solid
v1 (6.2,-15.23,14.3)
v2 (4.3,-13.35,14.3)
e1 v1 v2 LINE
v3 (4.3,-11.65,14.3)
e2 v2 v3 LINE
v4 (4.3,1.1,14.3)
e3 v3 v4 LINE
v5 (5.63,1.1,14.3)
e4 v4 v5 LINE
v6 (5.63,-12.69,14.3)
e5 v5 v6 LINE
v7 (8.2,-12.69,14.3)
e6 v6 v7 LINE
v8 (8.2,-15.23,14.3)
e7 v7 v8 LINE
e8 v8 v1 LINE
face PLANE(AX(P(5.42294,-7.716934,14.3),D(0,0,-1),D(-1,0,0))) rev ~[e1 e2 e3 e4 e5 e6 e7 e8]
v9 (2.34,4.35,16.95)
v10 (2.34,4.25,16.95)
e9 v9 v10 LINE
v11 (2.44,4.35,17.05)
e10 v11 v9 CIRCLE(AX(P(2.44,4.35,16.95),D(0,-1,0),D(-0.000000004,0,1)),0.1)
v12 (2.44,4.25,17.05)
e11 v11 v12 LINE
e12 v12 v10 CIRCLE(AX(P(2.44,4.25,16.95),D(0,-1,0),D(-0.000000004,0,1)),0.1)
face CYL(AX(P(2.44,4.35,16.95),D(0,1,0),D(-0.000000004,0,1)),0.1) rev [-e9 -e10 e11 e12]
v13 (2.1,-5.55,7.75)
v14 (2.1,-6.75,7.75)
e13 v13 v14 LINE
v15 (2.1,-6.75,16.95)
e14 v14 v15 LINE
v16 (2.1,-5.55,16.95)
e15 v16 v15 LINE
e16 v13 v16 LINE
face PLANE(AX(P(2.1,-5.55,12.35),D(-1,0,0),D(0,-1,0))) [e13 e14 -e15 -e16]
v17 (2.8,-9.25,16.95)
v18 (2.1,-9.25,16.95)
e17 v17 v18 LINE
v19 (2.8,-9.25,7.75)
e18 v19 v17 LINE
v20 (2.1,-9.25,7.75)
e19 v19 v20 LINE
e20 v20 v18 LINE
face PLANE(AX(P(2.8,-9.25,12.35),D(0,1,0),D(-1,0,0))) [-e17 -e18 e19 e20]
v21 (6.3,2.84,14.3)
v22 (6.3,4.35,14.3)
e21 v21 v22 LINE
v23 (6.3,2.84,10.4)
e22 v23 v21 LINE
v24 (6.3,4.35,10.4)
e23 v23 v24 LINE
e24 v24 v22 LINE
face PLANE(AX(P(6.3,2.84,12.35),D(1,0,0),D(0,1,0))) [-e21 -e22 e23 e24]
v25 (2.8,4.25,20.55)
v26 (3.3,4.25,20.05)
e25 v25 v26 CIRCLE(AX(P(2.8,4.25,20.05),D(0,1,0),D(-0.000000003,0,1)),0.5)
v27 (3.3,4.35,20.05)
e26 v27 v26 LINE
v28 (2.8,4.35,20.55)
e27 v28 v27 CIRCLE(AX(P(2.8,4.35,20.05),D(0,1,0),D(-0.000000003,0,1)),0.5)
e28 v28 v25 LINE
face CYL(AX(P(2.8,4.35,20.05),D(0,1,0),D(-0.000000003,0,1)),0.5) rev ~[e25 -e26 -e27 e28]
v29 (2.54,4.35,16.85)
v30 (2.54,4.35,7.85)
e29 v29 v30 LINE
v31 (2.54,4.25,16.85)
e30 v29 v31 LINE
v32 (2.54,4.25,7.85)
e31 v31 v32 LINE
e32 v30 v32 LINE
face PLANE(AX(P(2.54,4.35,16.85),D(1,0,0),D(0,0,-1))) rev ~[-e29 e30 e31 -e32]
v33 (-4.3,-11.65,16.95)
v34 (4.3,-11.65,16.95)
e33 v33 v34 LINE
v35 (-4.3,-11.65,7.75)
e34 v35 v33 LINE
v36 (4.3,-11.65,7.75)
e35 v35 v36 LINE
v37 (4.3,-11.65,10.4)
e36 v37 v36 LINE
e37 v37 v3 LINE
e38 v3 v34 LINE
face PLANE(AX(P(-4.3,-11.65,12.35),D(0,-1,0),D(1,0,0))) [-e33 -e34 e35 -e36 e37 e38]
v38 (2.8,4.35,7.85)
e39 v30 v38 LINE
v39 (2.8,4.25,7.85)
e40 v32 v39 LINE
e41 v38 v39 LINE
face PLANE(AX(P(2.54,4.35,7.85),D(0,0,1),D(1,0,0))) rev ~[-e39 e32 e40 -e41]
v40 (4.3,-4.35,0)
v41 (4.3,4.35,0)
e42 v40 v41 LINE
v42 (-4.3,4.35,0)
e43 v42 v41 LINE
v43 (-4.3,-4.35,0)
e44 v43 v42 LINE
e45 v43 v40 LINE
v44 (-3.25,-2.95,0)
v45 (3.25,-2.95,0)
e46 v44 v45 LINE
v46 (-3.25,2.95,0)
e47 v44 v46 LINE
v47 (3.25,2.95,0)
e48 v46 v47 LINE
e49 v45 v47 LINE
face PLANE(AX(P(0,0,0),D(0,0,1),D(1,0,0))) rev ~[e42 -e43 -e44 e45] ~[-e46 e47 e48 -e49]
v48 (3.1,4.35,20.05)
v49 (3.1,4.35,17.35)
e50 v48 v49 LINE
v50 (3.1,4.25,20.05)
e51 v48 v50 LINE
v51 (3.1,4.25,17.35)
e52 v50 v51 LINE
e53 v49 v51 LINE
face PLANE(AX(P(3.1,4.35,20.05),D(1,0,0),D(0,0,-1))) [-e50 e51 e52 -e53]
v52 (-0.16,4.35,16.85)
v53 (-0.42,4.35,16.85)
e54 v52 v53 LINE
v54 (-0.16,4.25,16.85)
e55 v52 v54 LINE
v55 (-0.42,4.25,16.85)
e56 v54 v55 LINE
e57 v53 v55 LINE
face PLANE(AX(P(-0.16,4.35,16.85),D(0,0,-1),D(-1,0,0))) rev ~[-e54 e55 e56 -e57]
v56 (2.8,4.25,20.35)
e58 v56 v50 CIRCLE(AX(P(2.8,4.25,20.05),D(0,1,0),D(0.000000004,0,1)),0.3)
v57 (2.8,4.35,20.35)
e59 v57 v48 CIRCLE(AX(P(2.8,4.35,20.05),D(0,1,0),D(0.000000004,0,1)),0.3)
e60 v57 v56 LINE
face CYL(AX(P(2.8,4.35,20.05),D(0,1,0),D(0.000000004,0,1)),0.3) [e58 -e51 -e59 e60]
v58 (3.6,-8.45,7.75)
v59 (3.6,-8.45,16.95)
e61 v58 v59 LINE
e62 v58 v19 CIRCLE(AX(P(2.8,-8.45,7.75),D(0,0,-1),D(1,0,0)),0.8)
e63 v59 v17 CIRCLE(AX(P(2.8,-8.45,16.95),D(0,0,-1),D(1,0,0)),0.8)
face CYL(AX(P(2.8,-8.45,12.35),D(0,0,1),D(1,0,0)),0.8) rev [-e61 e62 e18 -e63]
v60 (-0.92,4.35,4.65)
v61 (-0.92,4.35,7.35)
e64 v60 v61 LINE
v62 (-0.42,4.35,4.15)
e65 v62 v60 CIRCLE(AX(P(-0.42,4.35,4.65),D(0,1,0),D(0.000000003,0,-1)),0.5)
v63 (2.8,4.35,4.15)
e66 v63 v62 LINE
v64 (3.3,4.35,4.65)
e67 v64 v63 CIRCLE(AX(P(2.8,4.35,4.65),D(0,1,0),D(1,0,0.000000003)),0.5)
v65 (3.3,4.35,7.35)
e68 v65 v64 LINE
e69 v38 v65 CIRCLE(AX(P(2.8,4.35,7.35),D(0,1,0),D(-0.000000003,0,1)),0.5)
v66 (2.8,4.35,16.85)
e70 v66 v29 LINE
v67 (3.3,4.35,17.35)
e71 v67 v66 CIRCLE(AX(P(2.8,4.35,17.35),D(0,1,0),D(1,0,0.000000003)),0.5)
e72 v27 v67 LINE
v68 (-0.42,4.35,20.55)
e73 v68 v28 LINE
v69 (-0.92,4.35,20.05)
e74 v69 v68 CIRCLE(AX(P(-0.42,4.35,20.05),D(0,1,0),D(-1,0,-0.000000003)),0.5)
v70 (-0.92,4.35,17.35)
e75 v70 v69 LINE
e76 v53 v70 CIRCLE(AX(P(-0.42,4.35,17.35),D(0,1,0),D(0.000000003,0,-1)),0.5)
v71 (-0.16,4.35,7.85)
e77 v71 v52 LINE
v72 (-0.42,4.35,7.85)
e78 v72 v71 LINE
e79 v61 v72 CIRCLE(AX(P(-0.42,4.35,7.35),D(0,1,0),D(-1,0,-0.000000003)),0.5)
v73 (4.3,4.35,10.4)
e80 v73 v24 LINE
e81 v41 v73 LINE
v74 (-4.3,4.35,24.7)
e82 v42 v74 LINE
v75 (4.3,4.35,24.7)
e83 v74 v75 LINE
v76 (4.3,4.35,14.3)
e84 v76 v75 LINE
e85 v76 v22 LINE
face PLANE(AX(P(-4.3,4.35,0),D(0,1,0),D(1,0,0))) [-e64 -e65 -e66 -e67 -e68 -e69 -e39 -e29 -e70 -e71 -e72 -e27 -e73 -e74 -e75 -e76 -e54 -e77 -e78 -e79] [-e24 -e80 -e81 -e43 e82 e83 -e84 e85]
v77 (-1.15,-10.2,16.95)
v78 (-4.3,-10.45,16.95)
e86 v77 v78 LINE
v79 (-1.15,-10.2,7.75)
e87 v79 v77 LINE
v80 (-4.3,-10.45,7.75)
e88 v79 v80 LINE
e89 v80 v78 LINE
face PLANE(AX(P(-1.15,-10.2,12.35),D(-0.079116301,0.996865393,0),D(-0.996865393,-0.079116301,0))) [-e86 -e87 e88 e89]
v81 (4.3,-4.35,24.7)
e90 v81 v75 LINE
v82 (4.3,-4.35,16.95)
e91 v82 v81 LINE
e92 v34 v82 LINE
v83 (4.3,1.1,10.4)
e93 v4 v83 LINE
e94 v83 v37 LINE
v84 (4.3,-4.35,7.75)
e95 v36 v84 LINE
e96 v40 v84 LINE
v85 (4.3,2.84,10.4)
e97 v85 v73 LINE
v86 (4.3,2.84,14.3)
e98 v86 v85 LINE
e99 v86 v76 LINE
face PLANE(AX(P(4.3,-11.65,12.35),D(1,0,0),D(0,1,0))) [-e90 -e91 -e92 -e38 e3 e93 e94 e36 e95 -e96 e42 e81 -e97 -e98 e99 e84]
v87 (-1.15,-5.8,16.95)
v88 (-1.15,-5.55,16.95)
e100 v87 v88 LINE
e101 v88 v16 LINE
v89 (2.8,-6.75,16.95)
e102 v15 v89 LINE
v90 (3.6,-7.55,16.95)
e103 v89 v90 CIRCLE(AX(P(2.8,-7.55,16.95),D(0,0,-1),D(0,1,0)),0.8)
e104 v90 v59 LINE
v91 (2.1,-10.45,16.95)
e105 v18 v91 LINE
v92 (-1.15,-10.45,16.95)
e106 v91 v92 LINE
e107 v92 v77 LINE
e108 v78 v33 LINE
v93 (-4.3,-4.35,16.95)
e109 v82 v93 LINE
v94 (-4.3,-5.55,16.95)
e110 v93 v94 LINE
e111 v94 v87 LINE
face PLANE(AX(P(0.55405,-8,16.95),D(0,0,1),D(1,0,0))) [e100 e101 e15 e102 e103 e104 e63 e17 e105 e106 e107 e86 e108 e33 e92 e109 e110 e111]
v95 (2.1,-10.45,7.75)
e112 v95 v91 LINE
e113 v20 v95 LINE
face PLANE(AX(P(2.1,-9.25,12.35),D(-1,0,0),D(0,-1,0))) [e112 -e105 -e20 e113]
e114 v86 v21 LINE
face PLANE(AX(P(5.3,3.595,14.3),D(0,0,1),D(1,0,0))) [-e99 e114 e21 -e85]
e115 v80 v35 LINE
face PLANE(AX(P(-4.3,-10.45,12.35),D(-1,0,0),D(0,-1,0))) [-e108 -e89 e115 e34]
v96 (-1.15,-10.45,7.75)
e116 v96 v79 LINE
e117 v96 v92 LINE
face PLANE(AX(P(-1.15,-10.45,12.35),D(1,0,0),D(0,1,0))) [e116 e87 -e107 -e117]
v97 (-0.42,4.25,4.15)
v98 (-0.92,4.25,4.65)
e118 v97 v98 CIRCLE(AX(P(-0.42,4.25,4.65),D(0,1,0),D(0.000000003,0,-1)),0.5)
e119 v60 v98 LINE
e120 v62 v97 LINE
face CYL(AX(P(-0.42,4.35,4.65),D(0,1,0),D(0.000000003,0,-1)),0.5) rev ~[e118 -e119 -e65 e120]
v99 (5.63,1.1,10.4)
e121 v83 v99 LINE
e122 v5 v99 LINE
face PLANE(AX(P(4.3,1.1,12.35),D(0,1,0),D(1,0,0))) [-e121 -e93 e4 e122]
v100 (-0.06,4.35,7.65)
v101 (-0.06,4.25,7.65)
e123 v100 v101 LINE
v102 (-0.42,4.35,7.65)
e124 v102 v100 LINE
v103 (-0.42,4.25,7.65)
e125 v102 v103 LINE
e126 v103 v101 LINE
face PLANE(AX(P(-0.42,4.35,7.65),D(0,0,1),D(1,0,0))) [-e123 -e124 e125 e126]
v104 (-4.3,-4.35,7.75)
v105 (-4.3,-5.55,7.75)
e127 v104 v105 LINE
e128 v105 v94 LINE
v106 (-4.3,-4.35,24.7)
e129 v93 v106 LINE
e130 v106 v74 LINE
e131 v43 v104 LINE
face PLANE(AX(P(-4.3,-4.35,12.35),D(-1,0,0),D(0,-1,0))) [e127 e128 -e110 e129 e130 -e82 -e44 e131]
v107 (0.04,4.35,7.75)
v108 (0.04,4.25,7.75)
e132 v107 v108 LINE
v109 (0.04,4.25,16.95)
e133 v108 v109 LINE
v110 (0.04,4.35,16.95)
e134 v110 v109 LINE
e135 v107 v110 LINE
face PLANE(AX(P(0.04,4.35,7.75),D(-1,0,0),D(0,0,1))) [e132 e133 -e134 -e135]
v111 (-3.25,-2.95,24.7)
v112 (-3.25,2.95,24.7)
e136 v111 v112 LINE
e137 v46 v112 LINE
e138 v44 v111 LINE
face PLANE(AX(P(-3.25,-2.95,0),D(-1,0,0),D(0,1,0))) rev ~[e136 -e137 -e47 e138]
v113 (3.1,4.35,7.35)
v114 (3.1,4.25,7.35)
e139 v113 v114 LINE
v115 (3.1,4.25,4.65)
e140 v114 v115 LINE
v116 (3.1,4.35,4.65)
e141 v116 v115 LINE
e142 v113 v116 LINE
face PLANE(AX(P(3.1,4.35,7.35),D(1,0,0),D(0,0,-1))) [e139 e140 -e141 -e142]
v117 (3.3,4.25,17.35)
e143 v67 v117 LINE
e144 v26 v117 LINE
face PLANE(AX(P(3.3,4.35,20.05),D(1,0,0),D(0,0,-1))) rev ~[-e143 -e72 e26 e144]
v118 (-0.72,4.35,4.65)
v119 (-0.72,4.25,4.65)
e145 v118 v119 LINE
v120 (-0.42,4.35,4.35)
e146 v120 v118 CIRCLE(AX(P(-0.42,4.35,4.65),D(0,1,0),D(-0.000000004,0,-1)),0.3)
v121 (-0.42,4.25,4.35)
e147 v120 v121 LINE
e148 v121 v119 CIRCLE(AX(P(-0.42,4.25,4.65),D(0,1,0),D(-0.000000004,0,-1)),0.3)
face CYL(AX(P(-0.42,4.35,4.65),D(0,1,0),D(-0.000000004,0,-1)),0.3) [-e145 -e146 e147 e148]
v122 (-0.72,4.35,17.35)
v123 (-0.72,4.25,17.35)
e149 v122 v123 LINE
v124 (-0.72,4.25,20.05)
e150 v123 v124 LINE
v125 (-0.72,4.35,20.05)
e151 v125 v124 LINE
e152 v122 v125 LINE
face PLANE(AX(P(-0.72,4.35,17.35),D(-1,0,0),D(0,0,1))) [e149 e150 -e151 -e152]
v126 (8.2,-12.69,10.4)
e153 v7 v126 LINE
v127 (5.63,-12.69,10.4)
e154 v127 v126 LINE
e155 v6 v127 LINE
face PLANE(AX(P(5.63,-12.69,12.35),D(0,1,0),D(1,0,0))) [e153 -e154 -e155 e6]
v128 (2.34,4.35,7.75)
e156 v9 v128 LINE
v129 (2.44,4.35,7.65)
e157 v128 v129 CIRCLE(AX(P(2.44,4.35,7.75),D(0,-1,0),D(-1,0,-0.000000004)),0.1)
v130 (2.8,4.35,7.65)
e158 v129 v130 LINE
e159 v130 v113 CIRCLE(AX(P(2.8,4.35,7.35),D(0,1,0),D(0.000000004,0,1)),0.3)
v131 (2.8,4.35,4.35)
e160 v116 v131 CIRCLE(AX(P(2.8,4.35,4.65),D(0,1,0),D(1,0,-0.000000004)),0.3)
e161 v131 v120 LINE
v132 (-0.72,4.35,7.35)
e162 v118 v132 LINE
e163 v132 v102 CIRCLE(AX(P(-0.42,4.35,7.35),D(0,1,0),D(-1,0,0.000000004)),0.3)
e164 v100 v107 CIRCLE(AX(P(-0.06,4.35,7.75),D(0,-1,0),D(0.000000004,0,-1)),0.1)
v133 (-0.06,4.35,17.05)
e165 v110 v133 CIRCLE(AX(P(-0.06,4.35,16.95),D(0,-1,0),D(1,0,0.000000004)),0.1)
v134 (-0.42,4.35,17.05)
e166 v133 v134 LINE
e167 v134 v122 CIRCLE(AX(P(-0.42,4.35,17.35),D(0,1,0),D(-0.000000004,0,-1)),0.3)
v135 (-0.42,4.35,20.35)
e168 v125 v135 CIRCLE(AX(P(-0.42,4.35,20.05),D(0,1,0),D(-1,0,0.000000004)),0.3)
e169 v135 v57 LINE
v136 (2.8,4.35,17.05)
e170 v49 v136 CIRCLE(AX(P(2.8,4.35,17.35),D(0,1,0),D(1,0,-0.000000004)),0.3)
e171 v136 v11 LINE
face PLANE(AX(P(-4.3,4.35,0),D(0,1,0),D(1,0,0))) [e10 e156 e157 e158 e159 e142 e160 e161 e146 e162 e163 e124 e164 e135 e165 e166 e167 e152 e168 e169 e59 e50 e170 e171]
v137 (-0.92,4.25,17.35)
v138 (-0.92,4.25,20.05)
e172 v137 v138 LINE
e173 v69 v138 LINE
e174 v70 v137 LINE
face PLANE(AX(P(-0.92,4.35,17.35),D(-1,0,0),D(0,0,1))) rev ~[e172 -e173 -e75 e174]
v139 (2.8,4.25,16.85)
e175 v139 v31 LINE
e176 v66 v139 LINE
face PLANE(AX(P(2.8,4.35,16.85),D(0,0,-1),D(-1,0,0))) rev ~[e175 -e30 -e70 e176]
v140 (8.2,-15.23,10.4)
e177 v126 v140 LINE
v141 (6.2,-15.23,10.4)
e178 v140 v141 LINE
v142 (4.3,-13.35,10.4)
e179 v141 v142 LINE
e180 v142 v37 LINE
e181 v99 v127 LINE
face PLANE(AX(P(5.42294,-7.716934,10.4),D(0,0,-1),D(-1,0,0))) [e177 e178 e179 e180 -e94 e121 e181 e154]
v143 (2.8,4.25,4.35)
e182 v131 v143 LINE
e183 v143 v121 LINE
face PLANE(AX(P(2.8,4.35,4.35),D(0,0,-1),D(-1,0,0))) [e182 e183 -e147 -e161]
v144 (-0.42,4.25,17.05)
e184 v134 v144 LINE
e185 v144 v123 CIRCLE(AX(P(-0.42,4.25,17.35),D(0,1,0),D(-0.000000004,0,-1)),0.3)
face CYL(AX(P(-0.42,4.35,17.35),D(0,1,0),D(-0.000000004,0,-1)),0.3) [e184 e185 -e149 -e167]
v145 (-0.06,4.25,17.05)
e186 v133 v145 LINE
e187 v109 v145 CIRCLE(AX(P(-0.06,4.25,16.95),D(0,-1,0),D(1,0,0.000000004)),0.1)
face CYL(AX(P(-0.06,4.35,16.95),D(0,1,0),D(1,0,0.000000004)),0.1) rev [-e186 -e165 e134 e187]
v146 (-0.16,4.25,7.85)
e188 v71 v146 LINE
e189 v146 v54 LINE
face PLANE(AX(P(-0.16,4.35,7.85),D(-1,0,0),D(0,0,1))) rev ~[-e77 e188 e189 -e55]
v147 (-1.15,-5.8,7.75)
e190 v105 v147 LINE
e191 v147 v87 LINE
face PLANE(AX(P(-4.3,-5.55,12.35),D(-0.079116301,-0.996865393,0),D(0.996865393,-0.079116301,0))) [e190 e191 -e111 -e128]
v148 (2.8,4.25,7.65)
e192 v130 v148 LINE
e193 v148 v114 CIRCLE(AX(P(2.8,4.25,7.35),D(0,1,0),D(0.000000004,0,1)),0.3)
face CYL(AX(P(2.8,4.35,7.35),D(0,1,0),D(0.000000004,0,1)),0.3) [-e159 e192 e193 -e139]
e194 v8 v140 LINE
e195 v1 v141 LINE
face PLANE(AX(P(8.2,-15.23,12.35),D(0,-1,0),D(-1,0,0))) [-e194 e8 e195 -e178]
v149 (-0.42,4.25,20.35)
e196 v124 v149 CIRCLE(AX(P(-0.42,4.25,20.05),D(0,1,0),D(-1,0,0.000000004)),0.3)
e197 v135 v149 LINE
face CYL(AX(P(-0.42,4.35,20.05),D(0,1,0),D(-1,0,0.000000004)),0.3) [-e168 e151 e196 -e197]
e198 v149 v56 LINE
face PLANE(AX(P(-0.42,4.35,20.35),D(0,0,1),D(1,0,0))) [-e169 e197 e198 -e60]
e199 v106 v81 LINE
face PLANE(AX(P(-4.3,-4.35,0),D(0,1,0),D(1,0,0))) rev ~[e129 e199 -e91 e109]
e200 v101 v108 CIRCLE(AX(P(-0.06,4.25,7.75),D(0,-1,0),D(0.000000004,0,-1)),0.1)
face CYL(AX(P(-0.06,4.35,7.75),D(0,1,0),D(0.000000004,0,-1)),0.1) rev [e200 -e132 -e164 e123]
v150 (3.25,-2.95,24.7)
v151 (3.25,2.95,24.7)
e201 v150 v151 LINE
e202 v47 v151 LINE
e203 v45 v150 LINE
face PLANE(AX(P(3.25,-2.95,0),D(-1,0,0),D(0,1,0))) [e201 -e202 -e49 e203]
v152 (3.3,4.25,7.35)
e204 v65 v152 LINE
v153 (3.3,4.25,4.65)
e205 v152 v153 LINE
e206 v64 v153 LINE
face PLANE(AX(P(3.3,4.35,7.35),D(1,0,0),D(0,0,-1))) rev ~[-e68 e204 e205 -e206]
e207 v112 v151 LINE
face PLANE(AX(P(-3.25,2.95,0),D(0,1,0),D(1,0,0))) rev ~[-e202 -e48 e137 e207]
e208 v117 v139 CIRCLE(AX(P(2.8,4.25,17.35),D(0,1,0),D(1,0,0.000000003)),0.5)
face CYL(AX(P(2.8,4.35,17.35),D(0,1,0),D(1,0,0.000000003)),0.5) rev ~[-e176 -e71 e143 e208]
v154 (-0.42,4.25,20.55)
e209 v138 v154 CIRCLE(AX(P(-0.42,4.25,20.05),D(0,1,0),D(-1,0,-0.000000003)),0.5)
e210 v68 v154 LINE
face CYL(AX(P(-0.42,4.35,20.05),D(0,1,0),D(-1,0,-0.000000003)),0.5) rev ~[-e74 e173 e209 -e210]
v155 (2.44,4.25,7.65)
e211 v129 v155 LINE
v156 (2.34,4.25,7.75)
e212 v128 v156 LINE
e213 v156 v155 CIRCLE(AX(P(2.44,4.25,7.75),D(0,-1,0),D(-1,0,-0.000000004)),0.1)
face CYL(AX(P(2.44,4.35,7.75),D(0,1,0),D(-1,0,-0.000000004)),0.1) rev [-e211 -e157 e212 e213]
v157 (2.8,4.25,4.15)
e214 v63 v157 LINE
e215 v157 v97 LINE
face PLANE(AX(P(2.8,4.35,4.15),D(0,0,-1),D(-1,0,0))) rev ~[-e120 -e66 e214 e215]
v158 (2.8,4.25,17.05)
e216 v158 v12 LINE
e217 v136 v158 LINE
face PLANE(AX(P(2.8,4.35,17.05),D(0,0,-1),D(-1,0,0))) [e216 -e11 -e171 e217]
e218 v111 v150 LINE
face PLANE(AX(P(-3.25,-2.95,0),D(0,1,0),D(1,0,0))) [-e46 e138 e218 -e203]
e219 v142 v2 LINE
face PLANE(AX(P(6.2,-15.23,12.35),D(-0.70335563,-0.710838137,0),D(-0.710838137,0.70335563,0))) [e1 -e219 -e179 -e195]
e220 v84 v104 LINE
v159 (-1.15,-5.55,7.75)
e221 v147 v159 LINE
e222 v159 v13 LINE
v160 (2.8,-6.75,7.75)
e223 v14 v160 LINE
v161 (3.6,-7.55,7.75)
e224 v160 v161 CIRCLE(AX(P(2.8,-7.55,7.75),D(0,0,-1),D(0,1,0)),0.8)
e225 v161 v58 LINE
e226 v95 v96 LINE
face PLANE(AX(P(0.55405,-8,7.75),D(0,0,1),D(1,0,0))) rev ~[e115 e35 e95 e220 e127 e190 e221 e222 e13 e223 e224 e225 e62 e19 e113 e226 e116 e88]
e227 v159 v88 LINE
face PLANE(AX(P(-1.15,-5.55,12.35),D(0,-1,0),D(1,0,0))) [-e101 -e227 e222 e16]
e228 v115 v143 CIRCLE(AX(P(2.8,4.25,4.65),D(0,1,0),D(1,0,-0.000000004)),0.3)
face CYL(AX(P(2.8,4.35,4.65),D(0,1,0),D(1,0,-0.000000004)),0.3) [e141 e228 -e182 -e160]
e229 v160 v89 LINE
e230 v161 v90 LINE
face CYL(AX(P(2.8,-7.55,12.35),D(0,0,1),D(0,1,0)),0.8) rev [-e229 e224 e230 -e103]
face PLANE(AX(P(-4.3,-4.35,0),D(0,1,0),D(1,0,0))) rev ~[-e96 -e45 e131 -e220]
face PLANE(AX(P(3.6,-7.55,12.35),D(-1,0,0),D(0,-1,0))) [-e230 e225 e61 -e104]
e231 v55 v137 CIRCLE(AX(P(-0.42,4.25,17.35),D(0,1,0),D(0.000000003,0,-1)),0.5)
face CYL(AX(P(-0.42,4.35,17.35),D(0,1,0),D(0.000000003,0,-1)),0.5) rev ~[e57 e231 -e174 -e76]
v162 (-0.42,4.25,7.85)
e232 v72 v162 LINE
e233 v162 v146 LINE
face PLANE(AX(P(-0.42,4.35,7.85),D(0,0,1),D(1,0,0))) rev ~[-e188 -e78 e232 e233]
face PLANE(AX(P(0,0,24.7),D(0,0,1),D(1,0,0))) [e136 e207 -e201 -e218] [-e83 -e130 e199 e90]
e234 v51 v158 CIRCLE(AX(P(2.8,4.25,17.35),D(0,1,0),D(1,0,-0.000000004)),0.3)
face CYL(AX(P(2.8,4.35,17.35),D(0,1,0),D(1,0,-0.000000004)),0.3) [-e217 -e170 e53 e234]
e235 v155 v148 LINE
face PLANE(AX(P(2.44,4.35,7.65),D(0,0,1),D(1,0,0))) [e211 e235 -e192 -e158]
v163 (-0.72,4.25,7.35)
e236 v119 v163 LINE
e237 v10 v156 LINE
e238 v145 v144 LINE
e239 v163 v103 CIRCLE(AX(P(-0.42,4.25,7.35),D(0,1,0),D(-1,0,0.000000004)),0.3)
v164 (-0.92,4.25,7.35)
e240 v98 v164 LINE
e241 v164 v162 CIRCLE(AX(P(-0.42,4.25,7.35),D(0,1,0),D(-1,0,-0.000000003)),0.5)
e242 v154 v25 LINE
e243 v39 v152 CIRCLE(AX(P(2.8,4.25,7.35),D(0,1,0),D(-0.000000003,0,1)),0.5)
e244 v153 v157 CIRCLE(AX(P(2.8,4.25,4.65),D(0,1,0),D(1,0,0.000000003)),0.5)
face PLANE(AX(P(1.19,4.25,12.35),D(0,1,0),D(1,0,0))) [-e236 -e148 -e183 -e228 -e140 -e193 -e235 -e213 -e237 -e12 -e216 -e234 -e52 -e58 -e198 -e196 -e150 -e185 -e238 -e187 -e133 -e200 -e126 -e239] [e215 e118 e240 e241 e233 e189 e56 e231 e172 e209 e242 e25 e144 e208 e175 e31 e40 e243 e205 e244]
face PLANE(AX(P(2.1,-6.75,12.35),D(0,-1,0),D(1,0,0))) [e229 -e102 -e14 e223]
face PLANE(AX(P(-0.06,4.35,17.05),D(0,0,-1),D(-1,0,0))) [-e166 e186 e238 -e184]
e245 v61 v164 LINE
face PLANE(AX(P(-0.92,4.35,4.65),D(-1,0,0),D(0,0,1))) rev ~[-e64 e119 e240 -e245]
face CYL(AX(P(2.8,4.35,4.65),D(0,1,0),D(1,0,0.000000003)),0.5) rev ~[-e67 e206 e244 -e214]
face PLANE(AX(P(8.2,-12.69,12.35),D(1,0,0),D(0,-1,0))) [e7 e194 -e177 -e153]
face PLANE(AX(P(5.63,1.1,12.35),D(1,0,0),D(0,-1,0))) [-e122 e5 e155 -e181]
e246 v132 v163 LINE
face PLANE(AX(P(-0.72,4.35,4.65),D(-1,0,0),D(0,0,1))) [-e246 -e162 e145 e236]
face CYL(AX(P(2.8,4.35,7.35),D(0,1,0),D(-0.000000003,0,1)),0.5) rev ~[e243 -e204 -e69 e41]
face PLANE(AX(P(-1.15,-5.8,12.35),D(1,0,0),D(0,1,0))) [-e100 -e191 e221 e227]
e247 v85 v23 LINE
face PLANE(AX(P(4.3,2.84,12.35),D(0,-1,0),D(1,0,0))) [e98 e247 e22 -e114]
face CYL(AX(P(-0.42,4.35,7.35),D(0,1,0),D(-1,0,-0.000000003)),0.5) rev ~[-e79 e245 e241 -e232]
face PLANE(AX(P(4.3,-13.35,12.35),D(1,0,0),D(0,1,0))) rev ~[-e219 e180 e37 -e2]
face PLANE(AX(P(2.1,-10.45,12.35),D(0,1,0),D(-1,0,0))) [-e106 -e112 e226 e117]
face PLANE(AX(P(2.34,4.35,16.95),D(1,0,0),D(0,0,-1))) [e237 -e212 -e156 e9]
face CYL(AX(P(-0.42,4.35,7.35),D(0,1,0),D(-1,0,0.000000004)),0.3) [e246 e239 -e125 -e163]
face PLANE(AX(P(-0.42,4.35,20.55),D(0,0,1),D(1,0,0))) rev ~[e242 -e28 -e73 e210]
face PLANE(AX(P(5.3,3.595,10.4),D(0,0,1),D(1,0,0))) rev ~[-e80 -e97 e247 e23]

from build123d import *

# Parameters (mm, degrees)
SKETCH1_W                = 8.6
SKETCH1_H                = 8.7
SKETCH1_W_2              = 6.5
SKETCH1_H_2              = 5.9
BOSS_EXTRUDE1_DEPTH      = 24.7
SKETCH2_W                = 2
SKETCH2_H                = 1.51
BOSS_EXTRUDE2_DEPTH      = 1.95
BOSS_EXTRUDE2_DEPTH_BACK = 1.95
BOSS_EXTRUDE3_DEPTH      = 4.6
BOSS_EXTRUDE3_DEPTH_BACK = 4.6
CUT_EXTRUDE1_DEPTH       = 0.1


with BuildPart() as part:
    # Sketch1 → Boss-Extrude1 (new body)
    with BuildSketch(Plane.XY):
        Rectangle(SKETCH1_W, SKETCH1_H)
        Rectangle(SKETCH1_W_2, SKETCH1_H_2, mode=Mode.SUBTRACT)
    extrude(amount=BOSS_EXTRUDE1_DEPTH)

    # Sketch2 → Boss-Extrude2 (add, two sides)
    with BuildSketch(Plane.XY.offset(12.35)) as boss_extrude2_sk:
        with Locations((5.3, 3.595)):
            Rectangle(SKETCH2_W, SKETCH2_H)
        Polygon((4.3, 1.1), (5.63, 1.1), (5.63, -12.69), (8.2, -12.69), (8.2, -15.23), (6.2, -15.23), (4.3, -13.35), align=None)
    extrude(amount=BOSS_EXTRUDE2_DEPTH)
    extrude(boss_extrude2_sk.sketch, amount=-BOSS_EXTRUDE2_DEPTH_BACK)

    # Sketch3 → Boss-Extrude3 (add, two sides)
    with BuildSketch(Plane.XY.offset(12.35)) as boss_extrude3_sk:
        with BuildLine():
            Line((4.3, -4.35), (-4.3, -4.35))
            Line((-4.3, -4.35), (-4.3, -5.55))
            Line((-4.3, -5.55), (-1.15, -5.8))
            Line((-1.15, -5.8), (-1.15, -5.55))
            Line((-1.15, -5.55), (2.1, -5.55))
            Line((2.1, -5.55), (2.1, -6.75))
            Line((2.1, -6.75), (2.8, -6.75))
            ThreePointArc((2.8, -6.75), (3.365685425, -6.984314575), (3.6, -7.55))
            Line((3.6, -7.55), (3.6, -8.45))
            ThreePointArc((3.6, -8.45), (3.365685425, -9.015685425), (2.8, -9.25))
            Line((2.8, -9.25), (2.1, -9.25))
            Line((2.1, -9.25), (2.1, -10.45))
            Line((2.1, -10.45), (-1.15, -10.45))
            Line((-1.15, -10.45), (-1.15, -10.2))
            Line((-1.15, -10.2), (-4.3, -10.45))
            Line((-4.3, -10.45), (-4.3, -11.65))
            Line((-4.3, -11.65), (4.3, -11.65))
            Line((4.3, -11.65), (4.3, -4.35))
        make_face()
    extrude(amount=BOSS_EXTRUDE3_DEPTH)
    extrude(boss_extrude3_sk.sketch, amount=-BOSS_EXTRUDE3_DEPTH_BACK)

    # Sketch4 → Cut-Extrude1 (cut)
    with BuildSketch(Plane(origin=(0, 4.35, 0), x_dir=(1, 0, 0), z_dir=(0, 1, 0))):
        with BuildLine():
            Line((-0.16, -12.35), (-0.16, -16.85))
            Line((-0.16, -16.85), (-0.42, -16.85))
            ThreePointArc((-0.42, -16.85), (-0.773553391, -16.996446609), (-0.92, -17.35))
            Line((-0.92, -17.35), (-0.92, -20.05))
            ThreePointArc((-0.92, -20.05), (-0.773553391, -20.403553391), (-0.42, -20.55))
            Line((-0.42, -20.55), (2.8, -20.55))
            ThreePointArc((2.8, -20.55), (3.153553391, -20.403553391), (3.3, -20.05))
            Line((3.3, -20.05), (3.3, -17.35))
            ThreePointArc((3.3, -17.35), (3.153553391, -16.996446609), (2.8, -16.85))
            Line((2.8, -16.85), (2.54, -16.85))
            Line((2.54, -16.85), (2.54, -12.35))
            Line((2.54, -12.35), (2.54, -7.85))
            Line((2.54, -7.85), (2.8, -7.85))
            ThreePointArc((2.8, -7.85), (3.153553391, -7.703553391), (3.3, -7.35))
            Line((3.3, -7.35), (3.3, -4.65))
            ThreePointArc((3.3, -4.65), (3.153553391, -4.296446609), (2.8, -4.15))
            Line((2.8, -4.15), (-0.42, -4.15))
            ThreePointArc((-0.42, -4.15), (-0.773553391, -4.296446609), (-0.92, -4.65))
            Line((-0.92, -4.65), (-0.92, -7.35))
            ThreePointArc((-0.92, -7.35), (-0.773553391, -7.703553391), (-0.42, -7.85))
            Line((-0.42, -7.85), (-0.16, -7.85))
            Line((-0.16, -7.85), (-0.16, -12.35))
        make_face()
        with BuildLine():
            Line((2.34, -16.95), (2.34, -7.75))
            ThreePointArc((2.34, -7.75), (2.369289322, -7.679289322), (2.44, -7.65))
            Line((2.44, -7.65), (2.8, -7.65))
            ThreePointArc((2.8, -7.65), (3.012132034, -7.562132034), (3.1, -7.35))
            Line((3.1, -7.35), (3.1, -4.65))
            ThreePointArc((3.1, -4.65), (3.012132034, -4.437867966), (2.8, -4.35))
            Line((2.8, -4.35), (-0.42, -4.35))
            ThreePointArc((-0.42, -4.35), (-0.632132034, -4.437867966), (-0.72, -4.65))
            Line((-0.72, -4.65), (-0.72, -7.35))
            ThreePointArc((-0.72, -7.35), (-0.632132034, -7.562132034), (-0.42, -7.65))
            Line((-0.42, -7.65), (-0.06, -7.65))
            ThreePointArc((-0.06, -7.65), (0.010710678, -7.679289322), (0.04, -7.75))
            Line((0.04, -7.75), (0.04, -16.95))
            ThreePointArc((0.04, -16.95), (0.010710678, -17.020710678), (-0.06, -17.05))
            Line((-0.06, -17.05), (-0.42, -17.05))
            ThreePointArc((-0.42, -17.05), (-0.632132034, -17.137867966), (-0.72, -17.35))
            Line((-0.72, -17.35), (-0.72, -20.05))
            ThreePointArc((-0.72, -20.05), (-0.632132034, -20.262132034), (-0.42, -20.35))
            Line((-0.42, -20.35), (2.8, -20.35))
            ThreePointArc((2.8, -20.35), (3.012132034, -20.262132034), (3.1, -20.05))
            Line((3.1, -20.05), (3.1, -17.35))
            ThreePointArc((3.1, -17.35), (3.012132034, -17.137867966), (2.8, -17.05))
            Line((2.8, -17.05), (2.44, -17.05))
            ThreePointArc((2.44, -17.05), (2.369289322, -17.020710678), (2.34, -16.95))
        make_face(mode=Mode.SUBTRACT)
    extrude(amount=-CUT_EXTRUDE1_DEPTH, mode=Mode.SUBTRACT)


solid = part.part
